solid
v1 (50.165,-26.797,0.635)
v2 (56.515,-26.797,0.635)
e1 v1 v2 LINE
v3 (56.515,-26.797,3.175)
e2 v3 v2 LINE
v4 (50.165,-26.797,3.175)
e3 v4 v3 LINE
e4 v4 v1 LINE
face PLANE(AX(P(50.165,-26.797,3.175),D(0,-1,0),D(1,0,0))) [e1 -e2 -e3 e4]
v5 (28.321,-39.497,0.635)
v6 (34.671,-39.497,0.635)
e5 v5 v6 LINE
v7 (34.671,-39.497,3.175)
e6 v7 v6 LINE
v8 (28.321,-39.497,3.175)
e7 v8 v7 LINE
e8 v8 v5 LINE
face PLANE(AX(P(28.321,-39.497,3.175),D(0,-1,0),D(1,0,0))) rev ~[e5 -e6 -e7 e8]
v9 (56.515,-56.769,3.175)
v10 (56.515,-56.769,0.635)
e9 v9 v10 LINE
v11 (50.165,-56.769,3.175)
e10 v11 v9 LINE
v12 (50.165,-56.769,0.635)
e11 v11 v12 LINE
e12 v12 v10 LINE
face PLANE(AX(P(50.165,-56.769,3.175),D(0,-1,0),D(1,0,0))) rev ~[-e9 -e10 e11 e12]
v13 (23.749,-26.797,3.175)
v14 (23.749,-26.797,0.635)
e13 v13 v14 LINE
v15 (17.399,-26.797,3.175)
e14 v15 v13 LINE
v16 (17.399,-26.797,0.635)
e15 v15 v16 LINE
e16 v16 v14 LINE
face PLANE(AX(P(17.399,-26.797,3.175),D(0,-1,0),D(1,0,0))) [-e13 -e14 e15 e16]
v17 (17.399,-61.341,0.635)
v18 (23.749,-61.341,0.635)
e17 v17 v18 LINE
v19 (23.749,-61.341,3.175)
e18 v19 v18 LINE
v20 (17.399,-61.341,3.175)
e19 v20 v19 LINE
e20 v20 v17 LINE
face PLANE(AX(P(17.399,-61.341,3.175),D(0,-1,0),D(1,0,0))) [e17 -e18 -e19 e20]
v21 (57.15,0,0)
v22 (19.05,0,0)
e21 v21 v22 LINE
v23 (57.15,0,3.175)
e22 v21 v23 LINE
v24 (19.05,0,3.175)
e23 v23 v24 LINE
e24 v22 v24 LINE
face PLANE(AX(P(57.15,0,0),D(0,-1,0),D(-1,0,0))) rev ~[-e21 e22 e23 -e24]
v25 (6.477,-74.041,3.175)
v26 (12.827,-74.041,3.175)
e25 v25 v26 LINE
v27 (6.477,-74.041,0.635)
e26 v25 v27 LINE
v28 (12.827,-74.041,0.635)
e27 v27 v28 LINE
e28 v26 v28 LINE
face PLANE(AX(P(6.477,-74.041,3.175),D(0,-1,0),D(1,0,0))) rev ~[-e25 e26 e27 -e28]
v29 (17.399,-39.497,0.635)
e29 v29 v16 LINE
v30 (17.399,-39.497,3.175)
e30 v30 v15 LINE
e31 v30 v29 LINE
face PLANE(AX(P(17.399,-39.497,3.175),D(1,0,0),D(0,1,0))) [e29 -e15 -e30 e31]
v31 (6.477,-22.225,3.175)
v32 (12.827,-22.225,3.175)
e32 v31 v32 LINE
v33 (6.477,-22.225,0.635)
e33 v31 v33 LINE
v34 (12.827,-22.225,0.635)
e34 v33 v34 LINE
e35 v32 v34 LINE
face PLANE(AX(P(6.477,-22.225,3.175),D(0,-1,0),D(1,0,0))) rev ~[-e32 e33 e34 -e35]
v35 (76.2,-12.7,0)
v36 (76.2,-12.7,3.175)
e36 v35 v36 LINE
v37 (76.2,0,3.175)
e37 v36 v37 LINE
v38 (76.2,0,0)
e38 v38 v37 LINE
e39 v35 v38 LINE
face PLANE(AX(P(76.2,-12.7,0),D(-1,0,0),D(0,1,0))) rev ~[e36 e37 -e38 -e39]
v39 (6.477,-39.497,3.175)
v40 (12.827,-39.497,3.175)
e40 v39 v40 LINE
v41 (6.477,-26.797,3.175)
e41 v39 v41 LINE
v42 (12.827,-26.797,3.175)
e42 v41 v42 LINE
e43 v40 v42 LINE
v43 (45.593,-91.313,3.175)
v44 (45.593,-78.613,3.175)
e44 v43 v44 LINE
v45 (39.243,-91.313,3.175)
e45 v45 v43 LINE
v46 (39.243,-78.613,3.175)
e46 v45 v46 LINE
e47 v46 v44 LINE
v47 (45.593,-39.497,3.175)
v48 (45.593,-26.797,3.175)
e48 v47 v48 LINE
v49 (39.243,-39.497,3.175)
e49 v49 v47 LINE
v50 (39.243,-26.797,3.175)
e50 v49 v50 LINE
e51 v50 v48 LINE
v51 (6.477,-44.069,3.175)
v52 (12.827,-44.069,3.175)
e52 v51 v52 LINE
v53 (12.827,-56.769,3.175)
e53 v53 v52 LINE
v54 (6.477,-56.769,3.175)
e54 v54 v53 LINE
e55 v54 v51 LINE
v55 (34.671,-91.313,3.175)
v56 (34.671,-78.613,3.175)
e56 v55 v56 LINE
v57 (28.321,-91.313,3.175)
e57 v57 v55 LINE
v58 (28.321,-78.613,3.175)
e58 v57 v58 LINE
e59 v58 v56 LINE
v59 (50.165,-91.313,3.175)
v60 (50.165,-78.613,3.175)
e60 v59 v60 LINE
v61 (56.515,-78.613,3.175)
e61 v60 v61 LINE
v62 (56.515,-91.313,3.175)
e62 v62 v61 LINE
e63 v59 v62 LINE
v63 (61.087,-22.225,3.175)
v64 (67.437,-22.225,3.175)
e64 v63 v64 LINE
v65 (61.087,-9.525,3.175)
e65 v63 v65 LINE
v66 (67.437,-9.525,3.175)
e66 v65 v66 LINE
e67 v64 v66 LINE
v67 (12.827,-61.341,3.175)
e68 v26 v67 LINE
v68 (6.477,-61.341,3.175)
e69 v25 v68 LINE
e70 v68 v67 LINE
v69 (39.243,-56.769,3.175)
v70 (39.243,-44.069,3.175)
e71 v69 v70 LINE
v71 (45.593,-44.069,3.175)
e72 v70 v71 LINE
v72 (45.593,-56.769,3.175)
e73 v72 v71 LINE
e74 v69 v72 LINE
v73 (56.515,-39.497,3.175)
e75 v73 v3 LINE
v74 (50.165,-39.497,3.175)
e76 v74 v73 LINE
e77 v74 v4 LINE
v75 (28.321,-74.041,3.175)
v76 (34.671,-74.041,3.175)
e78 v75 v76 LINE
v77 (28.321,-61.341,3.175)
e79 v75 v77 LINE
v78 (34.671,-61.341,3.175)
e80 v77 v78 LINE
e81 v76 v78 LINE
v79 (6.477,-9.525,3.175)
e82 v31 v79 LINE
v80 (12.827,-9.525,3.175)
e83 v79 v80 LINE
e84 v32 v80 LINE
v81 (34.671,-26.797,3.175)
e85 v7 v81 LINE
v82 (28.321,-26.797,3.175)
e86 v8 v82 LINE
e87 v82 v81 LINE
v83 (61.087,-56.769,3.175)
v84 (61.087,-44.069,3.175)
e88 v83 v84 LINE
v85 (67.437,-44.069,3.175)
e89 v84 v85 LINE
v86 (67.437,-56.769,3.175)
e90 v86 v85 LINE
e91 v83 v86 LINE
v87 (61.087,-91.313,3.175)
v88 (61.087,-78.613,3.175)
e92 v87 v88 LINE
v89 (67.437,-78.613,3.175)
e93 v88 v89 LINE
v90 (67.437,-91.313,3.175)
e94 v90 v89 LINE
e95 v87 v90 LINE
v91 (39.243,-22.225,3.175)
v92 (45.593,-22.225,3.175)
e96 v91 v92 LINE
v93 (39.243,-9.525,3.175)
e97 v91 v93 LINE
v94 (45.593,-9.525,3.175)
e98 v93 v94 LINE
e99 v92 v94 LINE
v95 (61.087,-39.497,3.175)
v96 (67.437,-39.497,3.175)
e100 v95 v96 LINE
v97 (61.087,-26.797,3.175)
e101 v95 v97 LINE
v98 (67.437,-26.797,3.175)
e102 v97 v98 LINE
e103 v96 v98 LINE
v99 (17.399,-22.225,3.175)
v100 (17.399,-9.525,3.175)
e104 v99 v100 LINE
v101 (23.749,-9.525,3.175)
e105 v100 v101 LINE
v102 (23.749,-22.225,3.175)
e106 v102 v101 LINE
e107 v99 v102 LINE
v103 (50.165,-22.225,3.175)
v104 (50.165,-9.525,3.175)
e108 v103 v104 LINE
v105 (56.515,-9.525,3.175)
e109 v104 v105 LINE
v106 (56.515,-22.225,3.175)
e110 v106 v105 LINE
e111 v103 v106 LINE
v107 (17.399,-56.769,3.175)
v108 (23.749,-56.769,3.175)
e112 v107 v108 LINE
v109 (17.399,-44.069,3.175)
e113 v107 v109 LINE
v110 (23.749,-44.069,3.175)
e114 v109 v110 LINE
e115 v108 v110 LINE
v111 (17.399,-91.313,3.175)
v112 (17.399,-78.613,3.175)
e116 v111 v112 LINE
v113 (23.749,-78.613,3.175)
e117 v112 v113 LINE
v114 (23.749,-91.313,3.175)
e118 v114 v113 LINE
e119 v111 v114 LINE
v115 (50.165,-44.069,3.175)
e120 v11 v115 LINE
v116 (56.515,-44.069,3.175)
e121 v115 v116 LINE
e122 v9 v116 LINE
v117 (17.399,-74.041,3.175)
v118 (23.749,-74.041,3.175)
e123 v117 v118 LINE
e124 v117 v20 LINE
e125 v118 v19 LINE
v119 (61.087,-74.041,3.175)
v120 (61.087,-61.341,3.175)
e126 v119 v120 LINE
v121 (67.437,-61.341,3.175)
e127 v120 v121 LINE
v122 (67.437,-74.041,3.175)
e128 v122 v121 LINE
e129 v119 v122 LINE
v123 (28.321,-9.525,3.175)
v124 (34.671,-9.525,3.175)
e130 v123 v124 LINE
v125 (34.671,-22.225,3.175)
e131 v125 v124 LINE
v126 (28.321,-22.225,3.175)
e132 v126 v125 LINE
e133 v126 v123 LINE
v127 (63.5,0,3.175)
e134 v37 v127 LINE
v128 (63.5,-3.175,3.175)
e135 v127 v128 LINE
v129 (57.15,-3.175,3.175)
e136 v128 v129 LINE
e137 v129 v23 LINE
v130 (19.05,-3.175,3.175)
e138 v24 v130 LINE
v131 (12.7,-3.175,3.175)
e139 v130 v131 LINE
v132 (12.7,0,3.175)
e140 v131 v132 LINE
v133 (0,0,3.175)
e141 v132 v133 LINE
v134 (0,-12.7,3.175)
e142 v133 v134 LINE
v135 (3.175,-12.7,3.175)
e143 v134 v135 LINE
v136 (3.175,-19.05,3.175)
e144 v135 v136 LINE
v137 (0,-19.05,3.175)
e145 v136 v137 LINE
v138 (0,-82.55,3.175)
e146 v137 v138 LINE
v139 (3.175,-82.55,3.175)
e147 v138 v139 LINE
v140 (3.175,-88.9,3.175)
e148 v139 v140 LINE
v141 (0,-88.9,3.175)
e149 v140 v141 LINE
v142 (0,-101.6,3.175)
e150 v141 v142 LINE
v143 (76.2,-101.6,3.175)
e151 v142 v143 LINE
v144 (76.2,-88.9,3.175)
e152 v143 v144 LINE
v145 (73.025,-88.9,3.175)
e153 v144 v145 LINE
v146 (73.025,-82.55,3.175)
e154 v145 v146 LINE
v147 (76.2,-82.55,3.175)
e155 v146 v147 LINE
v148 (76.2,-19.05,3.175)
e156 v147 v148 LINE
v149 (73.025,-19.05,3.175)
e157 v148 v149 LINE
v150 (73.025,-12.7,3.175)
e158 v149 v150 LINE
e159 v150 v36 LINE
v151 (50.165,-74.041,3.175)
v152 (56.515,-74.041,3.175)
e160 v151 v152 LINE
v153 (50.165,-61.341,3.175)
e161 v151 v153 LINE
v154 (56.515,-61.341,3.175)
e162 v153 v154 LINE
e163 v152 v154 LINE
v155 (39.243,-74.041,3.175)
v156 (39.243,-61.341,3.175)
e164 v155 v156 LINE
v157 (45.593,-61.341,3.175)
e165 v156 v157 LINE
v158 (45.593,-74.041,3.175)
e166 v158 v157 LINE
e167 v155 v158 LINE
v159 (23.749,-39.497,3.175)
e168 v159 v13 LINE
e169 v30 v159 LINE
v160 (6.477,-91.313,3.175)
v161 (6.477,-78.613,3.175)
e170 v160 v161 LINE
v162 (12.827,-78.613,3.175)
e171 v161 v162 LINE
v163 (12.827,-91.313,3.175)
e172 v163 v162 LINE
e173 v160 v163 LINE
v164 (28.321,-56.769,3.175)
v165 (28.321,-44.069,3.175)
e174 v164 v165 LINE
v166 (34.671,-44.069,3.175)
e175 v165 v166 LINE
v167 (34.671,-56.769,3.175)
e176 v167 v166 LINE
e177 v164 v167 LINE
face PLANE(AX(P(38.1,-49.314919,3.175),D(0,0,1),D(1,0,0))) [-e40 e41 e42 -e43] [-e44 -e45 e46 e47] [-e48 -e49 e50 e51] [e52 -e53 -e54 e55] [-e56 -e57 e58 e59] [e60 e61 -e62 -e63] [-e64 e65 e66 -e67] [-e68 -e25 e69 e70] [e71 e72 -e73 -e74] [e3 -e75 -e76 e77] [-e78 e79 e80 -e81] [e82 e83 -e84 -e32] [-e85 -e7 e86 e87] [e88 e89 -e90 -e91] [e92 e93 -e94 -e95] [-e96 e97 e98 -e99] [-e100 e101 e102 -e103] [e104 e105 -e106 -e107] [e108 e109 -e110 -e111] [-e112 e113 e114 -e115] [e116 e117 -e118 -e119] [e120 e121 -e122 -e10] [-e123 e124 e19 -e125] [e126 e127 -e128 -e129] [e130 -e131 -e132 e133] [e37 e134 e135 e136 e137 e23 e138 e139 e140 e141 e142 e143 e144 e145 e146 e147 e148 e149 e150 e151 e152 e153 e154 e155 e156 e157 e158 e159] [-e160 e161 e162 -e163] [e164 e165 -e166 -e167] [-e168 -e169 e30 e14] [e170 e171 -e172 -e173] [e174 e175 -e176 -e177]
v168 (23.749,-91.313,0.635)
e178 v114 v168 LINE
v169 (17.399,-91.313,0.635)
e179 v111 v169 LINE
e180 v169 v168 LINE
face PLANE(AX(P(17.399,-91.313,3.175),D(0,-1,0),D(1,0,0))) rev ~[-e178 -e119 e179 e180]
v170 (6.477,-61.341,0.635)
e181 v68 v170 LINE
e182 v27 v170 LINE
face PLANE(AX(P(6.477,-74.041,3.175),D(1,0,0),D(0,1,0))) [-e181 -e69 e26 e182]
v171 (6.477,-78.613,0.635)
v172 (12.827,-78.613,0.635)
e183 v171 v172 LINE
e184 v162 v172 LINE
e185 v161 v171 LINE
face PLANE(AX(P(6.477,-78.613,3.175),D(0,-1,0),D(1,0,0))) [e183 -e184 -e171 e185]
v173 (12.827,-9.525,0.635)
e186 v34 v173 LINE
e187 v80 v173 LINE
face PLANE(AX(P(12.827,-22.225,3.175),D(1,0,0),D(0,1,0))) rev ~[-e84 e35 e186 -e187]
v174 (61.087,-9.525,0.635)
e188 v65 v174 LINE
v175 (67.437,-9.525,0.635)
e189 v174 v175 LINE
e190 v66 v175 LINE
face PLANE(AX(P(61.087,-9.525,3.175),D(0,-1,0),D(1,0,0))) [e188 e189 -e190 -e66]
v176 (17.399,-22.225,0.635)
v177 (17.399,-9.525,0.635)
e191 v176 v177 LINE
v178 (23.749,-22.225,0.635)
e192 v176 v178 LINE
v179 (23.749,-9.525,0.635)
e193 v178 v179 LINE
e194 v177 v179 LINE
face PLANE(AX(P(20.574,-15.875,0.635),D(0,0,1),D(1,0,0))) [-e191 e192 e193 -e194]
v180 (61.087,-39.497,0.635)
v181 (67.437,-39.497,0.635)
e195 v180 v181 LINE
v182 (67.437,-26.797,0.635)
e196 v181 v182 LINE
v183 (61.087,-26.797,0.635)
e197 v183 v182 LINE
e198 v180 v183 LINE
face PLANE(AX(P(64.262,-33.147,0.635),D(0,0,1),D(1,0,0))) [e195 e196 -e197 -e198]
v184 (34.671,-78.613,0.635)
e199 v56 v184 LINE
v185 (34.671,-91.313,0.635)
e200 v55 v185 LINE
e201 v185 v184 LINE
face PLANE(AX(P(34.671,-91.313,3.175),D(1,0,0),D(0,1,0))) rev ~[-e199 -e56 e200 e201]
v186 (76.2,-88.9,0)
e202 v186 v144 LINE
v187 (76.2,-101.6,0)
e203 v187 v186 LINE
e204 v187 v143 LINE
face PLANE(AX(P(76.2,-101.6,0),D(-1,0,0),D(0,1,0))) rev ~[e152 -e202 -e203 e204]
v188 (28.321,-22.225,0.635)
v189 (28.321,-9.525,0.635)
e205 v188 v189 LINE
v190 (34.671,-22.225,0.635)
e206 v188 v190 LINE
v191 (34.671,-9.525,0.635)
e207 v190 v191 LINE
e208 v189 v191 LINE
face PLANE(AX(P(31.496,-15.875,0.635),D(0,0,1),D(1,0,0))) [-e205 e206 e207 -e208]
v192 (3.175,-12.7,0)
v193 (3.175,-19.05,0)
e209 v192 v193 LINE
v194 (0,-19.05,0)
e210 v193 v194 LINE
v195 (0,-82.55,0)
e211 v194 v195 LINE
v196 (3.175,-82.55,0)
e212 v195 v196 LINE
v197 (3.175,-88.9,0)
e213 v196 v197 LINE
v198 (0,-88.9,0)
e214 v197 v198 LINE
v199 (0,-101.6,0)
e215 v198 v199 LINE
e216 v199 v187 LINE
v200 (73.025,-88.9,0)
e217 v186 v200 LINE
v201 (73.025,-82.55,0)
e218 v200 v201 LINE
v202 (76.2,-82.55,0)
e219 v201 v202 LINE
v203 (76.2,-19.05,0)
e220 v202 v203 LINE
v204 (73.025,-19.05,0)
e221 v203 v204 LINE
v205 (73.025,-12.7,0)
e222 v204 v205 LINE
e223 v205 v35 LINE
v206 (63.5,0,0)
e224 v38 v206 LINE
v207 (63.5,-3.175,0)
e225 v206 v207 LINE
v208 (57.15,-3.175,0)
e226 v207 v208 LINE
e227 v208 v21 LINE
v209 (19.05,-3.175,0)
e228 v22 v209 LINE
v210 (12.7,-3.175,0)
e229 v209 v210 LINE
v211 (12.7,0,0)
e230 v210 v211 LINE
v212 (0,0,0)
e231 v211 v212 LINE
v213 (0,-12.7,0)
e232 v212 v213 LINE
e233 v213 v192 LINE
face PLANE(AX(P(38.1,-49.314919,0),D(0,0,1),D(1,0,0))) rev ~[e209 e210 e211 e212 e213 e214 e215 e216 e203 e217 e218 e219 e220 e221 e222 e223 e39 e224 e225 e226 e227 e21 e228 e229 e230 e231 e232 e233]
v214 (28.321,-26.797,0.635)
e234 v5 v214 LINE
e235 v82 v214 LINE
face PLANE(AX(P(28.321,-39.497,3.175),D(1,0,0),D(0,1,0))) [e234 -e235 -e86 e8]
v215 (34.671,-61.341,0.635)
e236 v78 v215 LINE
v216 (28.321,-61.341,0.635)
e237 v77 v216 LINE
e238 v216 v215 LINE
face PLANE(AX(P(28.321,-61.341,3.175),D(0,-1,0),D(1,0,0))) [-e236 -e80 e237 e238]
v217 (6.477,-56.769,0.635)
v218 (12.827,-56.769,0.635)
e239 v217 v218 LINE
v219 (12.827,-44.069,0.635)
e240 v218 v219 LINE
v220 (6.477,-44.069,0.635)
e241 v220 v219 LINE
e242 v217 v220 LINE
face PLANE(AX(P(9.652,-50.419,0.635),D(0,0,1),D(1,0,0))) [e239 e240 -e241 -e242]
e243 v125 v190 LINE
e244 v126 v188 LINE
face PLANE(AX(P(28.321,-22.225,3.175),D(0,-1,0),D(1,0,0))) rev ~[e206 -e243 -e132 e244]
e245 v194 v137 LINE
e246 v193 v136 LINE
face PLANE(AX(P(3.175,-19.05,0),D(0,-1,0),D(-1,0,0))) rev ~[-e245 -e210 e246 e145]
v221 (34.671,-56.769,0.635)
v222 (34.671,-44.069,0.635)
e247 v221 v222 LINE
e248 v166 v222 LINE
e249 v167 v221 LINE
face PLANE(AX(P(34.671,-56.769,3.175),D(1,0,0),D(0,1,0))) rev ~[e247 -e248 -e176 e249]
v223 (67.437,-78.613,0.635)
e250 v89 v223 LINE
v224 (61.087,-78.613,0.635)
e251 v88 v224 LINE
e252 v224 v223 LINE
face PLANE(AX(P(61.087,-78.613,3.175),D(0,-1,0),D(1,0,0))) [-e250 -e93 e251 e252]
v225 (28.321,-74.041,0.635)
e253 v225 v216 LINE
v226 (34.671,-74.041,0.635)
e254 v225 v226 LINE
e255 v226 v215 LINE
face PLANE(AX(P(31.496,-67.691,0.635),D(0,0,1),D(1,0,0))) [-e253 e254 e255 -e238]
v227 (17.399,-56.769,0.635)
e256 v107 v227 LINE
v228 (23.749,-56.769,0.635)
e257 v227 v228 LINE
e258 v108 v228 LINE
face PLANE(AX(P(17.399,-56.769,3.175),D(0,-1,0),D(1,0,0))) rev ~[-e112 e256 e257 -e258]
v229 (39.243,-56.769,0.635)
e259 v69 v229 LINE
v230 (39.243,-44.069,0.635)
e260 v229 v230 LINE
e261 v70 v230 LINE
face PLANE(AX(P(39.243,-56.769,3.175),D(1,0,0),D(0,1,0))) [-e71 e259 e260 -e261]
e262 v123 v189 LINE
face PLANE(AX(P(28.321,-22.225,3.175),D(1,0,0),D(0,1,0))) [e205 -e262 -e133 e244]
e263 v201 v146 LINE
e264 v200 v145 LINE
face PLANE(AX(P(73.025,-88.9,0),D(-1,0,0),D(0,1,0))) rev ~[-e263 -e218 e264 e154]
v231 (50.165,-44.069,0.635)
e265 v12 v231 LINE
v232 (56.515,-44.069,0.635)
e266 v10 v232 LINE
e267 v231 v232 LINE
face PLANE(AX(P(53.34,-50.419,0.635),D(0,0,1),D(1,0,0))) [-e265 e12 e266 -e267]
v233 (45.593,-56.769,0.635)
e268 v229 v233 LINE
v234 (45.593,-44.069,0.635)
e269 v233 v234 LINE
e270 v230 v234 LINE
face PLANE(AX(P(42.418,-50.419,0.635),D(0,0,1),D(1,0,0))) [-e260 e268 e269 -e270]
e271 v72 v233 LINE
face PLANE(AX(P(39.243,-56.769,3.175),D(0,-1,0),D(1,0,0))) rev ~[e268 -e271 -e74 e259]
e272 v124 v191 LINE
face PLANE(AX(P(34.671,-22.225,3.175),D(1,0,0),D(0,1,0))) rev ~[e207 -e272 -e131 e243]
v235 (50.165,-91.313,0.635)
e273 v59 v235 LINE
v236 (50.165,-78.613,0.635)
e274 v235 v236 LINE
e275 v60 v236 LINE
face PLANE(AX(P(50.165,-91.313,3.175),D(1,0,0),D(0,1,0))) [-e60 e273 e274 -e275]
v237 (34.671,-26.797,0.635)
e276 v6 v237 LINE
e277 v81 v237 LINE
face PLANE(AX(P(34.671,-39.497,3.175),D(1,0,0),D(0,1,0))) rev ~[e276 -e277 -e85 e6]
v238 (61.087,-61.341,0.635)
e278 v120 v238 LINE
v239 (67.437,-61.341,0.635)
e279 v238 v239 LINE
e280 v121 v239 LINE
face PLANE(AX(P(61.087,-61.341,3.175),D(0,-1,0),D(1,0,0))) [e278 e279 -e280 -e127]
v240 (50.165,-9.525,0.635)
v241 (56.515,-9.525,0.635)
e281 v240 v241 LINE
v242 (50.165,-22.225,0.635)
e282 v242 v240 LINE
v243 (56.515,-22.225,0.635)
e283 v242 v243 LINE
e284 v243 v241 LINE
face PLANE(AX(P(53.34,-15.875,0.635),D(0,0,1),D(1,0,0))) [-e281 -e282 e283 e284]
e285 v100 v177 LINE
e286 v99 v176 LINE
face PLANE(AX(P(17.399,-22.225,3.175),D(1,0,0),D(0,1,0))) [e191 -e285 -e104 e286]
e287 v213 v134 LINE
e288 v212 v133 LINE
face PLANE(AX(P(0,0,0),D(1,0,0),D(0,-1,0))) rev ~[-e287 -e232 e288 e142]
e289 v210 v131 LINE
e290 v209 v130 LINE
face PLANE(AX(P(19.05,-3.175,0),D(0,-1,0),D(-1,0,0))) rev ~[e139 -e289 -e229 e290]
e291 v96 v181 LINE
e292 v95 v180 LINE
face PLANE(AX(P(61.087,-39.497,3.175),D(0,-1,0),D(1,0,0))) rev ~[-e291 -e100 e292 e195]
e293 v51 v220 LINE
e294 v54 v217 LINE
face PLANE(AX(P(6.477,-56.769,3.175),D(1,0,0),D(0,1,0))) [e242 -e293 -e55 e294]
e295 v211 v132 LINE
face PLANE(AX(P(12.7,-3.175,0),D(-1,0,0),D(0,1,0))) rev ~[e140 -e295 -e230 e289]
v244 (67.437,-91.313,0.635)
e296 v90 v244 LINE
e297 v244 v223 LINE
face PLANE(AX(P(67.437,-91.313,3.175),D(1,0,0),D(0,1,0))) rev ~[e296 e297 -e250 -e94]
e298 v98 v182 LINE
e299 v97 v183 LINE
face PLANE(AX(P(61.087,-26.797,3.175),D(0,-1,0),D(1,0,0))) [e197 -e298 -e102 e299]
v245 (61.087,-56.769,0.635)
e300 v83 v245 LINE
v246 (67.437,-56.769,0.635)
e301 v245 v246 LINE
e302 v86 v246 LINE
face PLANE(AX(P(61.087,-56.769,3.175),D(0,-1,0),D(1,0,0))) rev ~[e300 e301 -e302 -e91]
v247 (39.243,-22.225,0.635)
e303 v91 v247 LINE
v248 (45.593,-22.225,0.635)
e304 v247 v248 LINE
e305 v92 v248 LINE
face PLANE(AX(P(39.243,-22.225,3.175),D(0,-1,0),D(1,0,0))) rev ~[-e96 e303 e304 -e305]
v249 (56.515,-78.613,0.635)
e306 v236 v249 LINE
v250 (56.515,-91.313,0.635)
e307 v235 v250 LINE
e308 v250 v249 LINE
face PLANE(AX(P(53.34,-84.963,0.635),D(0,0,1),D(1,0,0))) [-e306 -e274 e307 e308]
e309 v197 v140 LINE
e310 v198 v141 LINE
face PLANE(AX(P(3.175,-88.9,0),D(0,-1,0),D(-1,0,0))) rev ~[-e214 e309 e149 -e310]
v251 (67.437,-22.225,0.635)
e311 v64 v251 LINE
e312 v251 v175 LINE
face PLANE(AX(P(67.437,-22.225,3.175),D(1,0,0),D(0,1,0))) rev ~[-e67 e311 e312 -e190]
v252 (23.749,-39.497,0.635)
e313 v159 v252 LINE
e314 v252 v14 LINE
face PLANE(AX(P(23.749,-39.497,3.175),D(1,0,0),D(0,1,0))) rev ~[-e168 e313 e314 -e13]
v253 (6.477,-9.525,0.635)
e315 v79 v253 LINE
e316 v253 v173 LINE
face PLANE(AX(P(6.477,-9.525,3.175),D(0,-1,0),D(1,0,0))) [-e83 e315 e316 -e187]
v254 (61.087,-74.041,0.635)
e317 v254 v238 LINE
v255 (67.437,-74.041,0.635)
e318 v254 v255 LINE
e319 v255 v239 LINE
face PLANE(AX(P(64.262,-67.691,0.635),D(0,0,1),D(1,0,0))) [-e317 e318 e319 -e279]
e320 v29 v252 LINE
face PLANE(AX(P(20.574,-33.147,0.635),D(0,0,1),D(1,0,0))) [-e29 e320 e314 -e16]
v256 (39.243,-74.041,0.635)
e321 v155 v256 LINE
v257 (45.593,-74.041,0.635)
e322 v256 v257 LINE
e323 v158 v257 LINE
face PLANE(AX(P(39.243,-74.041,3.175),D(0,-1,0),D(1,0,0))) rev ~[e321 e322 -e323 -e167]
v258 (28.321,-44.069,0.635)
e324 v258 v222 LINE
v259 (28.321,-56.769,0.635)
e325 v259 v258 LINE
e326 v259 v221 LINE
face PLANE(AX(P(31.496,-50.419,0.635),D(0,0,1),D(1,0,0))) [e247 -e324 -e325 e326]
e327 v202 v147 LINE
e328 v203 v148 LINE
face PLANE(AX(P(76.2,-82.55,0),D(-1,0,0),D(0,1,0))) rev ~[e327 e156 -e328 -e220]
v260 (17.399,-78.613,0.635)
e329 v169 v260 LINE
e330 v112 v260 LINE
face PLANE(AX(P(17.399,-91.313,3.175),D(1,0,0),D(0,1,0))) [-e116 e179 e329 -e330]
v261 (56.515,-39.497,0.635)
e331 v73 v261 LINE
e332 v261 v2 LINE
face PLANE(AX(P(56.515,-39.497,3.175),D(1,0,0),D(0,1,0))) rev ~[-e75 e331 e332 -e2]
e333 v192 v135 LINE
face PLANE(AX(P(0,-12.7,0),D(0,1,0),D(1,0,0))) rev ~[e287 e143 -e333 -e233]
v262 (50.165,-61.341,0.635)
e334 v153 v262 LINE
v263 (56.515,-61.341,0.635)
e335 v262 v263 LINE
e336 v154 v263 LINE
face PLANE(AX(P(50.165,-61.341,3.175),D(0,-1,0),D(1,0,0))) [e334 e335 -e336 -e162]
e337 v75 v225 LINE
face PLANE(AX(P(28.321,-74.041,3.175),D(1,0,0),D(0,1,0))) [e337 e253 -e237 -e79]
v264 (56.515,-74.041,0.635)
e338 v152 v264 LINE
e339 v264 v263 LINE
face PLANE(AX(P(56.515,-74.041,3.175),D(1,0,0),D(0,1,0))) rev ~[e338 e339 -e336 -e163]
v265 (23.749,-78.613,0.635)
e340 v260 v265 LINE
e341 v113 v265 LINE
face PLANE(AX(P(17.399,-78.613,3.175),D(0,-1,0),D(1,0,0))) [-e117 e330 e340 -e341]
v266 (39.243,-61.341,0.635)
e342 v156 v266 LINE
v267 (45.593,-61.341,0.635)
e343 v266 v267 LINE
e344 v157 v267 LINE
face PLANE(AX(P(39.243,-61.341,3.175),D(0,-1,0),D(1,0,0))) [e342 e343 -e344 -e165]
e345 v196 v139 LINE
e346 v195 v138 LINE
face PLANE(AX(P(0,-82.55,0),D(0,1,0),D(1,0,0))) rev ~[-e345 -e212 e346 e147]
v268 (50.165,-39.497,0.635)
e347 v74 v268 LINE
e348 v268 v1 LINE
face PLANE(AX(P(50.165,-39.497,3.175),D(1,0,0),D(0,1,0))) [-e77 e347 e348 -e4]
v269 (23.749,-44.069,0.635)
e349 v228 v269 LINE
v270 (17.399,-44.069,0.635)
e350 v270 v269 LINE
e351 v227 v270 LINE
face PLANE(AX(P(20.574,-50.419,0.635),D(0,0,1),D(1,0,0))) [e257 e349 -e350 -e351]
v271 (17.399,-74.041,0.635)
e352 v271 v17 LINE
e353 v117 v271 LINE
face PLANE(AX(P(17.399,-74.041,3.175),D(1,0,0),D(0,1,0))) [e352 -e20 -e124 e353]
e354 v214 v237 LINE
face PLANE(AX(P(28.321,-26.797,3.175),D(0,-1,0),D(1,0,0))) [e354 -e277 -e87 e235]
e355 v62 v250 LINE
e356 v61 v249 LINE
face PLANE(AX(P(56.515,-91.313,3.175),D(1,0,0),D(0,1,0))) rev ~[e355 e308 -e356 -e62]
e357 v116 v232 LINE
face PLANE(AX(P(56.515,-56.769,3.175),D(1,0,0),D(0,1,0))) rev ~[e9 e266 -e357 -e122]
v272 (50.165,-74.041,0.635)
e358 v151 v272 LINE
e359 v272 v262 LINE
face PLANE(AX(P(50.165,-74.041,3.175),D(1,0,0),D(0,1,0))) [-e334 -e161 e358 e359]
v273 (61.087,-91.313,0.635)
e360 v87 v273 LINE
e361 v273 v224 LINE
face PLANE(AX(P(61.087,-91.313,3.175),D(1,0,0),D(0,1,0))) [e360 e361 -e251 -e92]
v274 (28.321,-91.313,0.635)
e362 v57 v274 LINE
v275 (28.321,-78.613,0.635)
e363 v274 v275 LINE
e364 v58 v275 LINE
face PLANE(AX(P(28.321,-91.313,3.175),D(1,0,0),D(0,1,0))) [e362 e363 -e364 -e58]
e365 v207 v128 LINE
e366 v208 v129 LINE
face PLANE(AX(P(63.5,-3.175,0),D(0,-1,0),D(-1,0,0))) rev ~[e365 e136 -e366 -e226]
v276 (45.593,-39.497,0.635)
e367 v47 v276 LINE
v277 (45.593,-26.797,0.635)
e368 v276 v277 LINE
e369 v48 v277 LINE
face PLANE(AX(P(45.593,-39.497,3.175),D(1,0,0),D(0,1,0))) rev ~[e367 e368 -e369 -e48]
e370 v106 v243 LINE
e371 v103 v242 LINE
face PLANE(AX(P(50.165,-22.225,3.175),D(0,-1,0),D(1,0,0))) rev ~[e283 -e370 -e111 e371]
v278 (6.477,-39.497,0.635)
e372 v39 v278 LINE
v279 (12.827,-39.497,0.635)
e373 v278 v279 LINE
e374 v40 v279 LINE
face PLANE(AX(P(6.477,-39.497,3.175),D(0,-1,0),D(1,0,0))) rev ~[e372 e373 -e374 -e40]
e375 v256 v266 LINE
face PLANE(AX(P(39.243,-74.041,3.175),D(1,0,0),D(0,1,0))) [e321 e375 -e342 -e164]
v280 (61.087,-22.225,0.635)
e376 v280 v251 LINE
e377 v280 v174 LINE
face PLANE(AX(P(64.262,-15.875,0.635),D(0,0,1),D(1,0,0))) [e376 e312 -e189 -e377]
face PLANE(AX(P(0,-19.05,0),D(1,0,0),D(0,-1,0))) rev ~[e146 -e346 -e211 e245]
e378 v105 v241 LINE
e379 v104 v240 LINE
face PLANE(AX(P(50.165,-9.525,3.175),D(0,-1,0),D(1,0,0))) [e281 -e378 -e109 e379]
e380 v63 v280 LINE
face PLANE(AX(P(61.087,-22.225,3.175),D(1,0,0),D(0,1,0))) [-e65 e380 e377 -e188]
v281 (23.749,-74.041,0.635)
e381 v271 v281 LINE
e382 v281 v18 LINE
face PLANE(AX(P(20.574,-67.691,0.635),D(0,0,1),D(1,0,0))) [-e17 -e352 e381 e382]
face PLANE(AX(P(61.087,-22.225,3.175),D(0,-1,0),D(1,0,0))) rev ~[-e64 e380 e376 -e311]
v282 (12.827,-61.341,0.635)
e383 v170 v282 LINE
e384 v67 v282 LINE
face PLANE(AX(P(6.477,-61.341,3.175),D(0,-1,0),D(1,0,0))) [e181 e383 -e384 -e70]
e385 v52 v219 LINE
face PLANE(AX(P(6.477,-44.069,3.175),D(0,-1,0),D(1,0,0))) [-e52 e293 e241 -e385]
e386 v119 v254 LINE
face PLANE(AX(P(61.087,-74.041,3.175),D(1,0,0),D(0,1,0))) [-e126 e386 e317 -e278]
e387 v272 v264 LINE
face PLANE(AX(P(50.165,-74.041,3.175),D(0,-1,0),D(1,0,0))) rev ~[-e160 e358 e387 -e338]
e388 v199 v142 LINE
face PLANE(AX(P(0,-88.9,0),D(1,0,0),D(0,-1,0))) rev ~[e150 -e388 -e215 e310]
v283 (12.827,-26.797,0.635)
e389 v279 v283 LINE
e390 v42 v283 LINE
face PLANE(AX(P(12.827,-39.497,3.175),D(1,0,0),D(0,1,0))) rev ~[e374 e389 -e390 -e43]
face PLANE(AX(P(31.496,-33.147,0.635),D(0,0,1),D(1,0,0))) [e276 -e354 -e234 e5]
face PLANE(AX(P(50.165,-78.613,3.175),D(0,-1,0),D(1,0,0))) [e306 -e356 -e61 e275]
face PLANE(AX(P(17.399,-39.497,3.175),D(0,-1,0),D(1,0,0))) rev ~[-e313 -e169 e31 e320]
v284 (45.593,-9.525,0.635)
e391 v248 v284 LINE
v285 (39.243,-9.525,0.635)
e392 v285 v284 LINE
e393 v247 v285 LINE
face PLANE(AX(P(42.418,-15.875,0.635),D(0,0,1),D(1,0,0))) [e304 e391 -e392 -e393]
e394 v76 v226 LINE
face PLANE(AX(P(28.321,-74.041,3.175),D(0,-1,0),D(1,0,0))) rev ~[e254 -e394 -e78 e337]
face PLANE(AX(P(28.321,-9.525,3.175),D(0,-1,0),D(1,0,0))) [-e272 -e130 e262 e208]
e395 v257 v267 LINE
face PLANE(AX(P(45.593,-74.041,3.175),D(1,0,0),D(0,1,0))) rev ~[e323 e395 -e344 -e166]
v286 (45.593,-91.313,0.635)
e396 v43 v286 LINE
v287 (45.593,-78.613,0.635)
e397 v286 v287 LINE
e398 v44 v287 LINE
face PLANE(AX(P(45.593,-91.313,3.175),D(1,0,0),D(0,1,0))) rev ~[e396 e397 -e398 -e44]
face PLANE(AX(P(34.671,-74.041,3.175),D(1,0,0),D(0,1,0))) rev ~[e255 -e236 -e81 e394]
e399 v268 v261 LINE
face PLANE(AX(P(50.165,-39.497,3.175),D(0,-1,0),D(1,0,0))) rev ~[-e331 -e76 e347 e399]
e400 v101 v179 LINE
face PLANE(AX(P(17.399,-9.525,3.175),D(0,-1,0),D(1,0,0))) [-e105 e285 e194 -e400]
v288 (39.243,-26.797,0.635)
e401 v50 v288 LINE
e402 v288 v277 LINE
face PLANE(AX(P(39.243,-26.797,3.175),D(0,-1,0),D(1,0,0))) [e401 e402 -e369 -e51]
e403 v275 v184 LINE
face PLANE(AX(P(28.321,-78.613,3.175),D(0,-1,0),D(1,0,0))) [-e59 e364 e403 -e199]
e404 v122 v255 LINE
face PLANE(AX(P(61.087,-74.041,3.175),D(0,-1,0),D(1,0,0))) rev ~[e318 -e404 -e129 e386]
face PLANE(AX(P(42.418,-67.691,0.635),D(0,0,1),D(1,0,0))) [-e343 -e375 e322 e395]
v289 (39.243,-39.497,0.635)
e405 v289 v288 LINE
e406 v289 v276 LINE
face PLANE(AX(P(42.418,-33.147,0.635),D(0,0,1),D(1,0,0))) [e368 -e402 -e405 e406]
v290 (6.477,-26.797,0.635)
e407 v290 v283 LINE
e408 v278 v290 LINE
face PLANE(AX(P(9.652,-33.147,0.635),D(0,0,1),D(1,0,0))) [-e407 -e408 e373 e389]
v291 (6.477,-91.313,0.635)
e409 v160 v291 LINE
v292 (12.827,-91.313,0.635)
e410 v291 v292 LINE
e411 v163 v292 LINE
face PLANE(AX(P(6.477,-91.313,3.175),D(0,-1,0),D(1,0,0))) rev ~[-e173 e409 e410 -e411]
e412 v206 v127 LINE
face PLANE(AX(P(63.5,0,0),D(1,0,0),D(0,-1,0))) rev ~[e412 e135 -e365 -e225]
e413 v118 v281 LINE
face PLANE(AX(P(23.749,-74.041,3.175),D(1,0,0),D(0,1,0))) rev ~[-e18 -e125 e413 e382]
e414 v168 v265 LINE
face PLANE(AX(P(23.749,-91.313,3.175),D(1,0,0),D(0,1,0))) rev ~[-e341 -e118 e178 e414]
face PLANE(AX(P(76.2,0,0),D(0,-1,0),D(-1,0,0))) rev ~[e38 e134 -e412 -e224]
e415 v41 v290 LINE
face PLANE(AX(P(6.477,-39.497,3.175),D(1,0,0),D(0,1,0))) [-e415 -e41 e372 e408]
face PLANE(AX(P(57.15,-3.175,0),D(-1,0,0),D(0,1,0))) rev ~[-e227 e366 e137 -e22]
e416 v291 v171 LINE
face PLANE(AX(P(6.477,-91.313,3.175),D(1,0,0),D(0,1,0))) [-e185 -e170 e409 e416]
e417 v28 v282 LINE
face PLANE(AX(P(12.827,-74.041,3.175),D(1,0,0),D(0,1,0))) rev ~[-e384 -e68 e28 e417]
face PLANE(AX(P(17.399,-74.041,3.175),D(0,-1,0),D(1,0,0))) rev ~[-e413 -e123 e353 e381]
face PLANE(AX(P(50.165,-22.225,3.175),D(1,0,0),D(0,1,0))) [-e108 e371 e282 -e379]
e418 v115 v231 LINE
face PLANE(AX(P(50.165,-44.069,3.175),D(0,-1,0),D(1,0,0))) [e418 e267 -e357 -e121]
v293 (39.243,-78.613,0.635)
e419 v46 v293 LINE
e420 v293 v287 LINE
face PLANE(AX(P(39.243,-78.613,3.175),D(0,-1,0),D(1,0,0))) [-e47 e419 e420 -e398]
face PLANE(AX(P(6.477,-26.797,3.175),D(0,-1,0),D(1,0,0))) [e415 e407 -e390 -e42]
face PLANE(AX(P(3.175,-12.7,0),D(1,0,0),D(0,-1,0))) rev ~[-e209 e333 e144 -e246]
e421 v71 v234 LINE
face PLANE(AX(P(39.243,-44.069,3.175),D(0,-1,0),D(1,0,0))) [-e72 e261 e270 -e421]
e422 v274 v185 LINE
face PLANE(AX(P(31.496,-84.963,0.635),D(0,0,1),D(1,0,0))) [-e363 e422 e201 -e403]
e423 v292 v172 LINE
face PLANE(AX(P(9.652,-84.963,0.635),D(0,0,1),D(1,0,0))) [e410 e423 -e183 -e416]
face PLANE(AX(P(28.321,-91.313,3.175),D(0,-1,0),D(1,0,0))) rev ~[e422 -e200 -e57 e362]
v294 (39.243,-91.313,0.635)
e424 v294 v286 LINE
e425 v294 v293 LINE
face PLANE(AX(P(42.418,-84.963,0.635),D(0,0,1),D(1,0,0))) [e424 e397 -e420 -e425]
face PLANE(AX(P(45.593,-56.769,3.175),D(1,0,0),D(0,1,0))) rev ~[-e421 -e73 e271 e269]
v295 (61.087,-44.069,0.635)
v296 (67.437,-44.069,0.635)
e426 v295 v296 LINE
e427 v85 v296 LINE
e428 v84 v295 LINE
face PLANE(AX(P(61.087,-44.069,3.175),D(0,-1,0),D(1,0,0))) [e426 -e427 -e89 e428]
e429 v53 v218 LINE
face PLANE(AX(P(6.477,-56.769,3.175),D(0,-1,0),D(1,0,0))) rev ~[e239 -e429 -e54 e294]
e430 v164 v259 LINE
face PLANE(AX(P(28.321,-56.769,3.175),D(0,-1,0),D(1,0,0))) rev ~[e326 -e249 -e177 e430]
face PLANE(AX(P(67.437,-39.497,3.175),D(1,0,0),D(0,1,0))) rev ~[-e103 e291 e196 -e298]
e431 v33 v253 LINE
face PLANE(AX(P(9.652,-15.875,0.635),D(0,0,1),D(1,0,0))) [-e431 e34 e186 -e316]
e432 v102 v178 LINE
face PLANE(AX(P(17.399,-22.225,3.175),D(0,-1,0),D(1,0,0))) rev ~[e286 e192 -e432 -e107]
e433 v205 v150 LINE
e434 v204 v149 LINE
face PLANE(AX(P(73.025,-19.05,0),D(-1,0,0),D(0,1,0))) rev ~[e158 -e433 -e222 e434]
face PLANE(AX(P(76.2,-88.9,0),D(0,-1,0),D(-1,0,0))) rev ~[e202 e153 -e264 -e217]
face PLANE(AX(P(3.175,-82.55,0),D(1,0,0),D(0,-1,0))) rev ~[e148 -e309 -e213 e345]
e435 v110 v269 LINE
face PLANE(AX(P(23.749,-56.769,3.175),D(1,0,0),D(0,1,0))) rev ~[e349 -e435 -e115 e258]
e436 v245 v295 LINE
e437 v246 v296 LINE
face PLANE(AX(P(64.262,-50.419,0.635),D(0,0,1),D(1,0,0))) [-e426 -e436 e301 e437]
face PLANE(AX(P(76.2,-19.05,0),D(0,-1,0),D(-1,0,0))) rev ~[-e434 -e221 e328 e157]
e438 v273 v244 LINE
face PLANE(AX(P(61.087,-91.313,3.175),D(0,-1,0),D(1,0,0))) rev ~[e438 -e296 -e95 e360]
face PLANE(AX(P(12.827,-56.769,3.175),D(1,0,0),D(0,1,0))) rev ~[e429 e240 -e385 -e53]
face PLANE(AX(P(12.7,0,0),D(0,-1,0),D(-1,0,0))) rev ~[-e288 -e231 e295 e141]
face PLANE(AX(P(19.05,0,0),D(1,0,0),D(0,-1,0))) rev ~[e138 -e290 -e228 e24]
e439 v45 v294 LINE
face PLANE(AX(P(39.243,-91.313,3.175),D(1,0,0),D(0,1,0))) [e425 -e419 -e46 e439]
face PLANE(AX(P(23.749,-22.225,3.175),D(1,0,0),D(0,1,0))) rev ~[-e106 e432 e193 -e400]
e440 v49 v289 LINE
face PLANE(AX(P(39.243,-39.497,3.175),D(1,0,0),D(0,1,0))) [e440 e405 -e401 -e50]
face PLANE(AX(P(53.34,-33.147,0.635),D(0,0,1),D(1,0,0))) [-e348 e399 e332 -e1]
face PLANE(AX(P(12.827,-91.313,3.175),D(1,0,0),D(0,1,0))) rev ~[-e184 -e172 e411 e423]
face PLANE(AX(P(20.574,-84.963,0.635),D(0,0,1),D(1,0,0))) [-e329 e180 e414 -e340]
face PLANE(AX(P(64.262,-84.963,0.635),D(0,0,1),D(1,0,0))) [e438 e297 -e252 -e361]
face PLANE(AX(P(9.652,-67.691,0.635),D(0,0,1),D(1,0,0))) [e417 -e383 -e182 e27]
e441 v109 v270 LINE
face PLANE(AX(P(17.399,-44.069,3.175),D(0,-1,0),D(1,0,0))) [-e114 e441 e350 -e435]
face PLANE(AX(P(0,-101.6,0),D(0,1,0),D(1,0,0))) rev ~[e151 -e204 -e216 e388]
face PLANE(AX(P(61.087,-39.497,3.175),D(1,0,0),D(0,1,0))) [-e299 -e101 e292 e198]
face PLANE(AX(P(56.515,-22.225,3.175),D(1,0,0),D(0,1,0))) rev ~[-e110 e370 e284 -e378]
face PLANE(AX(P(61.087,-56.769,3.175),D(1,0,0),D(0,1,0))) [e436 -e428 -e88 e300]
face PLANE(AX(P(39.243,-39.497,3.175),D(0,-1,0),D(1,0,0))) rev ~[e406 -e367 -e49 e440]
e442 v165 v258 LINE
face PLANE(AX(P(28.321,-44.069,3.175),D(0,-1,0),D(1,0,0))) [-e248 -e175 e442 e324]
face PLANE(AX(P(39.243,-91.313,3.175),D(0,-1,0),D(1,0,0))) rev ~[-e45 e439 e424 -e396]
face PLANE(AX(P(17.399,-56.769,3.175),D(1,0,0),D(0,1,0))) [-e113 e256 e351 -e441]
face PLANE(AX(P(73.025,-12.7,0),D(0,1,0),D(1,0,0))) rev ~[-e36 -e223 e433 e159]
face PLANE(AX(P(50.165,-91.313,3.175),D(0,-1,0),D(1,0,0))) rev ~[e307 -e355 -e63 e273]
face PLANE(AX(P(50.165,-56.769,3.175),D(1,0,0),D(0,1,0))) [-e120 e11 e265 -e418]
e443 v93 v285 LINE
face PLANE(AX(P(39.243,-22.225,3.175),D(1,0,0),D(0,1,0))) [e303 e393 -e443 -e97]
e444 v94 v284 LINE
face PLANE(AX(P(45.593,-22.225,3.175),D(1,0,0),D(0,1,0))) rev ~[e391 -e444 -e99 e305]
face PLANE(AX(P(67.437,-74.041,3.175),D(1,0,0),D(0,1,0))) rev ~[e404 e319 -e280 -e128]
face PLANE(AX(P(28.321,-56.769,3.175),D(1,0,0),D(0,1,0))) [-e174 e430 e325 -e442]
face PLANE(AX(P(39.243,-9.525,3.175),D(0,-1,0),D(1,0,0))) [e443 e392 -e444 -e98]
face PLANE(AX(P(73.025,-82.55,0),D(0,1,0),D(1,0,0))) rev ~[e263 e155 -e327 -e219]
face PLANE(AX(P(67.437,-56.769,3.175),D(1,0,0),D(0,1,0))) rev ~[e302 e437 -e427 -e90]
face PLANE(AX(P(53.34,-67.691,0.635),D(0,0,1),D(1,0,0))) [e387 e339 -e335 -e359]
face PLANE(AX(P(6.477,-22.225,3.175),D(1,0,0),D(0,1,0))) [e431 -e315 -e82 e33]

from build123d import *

# Parameters (mm, degrees)
BOSS_EXTRUDE1_DEPTH  = 3.175
SKETCH2_W            = 6.35
SKETCH2_H            = 12.7
CUT_EXTRUDE1_DEPTH   = 2.54
LPATTERN1_COUNT      = 6
LPATTERN1_PITCH      = 10.922
LPATTERN1_COUNT_DIR2 = 5
LPATTERN1_PITCH_DIR2 = 17.272


with BuildPart() as part:
    # Sketch1 → Boss-Extrude1 (new body)
    with BuildSketch(Plane.XY):
        Polygon((0, -101.6), (12.7, -101.6), (63.5, -101.6), (76.2, -101.6), (76.2, -88.9), (73.025, -88.9), (73.025, -82.55), (76.2, -82.55), (76.2, -19.05), (73.025, -19.05), (73.025, -12.7), (76.2, -12.7), (76.2, 0), (63.5, 0), (63.5, -3.175), (57.15, -3.175), (57.15, 0), (19.05, 0), (19.05, -3.175), (12.7, -3.175), (12.7, 0), (0, 0), (0, -12.7), (3.175, -12.7), (3.175, -19.05), (0, -19.05), (0, -82.55), (3.175, -82.55), (3.175, -88.9), (0, -88.9), align=None)
    extrude(amount=BOSS_EXTRUDE1_DEPTH)

    # Sketch2 → Cut-Extrude1 (cut)
    with BuildSketch(Plane.XY.offset(3.175)):
        with Locations((9.652, -15.875)):
            Rectangle(SKETCH2_W, SKETCH2_H)
    cut_extrude1 = extrude(amount=-CUT_EXTRUDE1_DEPTH, mode=Mode.SUBTRACT)

    # LPattern1: Cut-Extrude1 6 × 5
    with Locations(*[(i * LPATTERN1_PITCH, -j * LPATTERN1_PITCH_DIR2, 0) for i in range(LPATTERN1_COUNT) for j in range(LPATTERN1_COUNT_DIR2) if (i, j) != (0, 0)]):
        add(cut_extrude1, mode=Mode.SUBTRACT)


solid = part.part
